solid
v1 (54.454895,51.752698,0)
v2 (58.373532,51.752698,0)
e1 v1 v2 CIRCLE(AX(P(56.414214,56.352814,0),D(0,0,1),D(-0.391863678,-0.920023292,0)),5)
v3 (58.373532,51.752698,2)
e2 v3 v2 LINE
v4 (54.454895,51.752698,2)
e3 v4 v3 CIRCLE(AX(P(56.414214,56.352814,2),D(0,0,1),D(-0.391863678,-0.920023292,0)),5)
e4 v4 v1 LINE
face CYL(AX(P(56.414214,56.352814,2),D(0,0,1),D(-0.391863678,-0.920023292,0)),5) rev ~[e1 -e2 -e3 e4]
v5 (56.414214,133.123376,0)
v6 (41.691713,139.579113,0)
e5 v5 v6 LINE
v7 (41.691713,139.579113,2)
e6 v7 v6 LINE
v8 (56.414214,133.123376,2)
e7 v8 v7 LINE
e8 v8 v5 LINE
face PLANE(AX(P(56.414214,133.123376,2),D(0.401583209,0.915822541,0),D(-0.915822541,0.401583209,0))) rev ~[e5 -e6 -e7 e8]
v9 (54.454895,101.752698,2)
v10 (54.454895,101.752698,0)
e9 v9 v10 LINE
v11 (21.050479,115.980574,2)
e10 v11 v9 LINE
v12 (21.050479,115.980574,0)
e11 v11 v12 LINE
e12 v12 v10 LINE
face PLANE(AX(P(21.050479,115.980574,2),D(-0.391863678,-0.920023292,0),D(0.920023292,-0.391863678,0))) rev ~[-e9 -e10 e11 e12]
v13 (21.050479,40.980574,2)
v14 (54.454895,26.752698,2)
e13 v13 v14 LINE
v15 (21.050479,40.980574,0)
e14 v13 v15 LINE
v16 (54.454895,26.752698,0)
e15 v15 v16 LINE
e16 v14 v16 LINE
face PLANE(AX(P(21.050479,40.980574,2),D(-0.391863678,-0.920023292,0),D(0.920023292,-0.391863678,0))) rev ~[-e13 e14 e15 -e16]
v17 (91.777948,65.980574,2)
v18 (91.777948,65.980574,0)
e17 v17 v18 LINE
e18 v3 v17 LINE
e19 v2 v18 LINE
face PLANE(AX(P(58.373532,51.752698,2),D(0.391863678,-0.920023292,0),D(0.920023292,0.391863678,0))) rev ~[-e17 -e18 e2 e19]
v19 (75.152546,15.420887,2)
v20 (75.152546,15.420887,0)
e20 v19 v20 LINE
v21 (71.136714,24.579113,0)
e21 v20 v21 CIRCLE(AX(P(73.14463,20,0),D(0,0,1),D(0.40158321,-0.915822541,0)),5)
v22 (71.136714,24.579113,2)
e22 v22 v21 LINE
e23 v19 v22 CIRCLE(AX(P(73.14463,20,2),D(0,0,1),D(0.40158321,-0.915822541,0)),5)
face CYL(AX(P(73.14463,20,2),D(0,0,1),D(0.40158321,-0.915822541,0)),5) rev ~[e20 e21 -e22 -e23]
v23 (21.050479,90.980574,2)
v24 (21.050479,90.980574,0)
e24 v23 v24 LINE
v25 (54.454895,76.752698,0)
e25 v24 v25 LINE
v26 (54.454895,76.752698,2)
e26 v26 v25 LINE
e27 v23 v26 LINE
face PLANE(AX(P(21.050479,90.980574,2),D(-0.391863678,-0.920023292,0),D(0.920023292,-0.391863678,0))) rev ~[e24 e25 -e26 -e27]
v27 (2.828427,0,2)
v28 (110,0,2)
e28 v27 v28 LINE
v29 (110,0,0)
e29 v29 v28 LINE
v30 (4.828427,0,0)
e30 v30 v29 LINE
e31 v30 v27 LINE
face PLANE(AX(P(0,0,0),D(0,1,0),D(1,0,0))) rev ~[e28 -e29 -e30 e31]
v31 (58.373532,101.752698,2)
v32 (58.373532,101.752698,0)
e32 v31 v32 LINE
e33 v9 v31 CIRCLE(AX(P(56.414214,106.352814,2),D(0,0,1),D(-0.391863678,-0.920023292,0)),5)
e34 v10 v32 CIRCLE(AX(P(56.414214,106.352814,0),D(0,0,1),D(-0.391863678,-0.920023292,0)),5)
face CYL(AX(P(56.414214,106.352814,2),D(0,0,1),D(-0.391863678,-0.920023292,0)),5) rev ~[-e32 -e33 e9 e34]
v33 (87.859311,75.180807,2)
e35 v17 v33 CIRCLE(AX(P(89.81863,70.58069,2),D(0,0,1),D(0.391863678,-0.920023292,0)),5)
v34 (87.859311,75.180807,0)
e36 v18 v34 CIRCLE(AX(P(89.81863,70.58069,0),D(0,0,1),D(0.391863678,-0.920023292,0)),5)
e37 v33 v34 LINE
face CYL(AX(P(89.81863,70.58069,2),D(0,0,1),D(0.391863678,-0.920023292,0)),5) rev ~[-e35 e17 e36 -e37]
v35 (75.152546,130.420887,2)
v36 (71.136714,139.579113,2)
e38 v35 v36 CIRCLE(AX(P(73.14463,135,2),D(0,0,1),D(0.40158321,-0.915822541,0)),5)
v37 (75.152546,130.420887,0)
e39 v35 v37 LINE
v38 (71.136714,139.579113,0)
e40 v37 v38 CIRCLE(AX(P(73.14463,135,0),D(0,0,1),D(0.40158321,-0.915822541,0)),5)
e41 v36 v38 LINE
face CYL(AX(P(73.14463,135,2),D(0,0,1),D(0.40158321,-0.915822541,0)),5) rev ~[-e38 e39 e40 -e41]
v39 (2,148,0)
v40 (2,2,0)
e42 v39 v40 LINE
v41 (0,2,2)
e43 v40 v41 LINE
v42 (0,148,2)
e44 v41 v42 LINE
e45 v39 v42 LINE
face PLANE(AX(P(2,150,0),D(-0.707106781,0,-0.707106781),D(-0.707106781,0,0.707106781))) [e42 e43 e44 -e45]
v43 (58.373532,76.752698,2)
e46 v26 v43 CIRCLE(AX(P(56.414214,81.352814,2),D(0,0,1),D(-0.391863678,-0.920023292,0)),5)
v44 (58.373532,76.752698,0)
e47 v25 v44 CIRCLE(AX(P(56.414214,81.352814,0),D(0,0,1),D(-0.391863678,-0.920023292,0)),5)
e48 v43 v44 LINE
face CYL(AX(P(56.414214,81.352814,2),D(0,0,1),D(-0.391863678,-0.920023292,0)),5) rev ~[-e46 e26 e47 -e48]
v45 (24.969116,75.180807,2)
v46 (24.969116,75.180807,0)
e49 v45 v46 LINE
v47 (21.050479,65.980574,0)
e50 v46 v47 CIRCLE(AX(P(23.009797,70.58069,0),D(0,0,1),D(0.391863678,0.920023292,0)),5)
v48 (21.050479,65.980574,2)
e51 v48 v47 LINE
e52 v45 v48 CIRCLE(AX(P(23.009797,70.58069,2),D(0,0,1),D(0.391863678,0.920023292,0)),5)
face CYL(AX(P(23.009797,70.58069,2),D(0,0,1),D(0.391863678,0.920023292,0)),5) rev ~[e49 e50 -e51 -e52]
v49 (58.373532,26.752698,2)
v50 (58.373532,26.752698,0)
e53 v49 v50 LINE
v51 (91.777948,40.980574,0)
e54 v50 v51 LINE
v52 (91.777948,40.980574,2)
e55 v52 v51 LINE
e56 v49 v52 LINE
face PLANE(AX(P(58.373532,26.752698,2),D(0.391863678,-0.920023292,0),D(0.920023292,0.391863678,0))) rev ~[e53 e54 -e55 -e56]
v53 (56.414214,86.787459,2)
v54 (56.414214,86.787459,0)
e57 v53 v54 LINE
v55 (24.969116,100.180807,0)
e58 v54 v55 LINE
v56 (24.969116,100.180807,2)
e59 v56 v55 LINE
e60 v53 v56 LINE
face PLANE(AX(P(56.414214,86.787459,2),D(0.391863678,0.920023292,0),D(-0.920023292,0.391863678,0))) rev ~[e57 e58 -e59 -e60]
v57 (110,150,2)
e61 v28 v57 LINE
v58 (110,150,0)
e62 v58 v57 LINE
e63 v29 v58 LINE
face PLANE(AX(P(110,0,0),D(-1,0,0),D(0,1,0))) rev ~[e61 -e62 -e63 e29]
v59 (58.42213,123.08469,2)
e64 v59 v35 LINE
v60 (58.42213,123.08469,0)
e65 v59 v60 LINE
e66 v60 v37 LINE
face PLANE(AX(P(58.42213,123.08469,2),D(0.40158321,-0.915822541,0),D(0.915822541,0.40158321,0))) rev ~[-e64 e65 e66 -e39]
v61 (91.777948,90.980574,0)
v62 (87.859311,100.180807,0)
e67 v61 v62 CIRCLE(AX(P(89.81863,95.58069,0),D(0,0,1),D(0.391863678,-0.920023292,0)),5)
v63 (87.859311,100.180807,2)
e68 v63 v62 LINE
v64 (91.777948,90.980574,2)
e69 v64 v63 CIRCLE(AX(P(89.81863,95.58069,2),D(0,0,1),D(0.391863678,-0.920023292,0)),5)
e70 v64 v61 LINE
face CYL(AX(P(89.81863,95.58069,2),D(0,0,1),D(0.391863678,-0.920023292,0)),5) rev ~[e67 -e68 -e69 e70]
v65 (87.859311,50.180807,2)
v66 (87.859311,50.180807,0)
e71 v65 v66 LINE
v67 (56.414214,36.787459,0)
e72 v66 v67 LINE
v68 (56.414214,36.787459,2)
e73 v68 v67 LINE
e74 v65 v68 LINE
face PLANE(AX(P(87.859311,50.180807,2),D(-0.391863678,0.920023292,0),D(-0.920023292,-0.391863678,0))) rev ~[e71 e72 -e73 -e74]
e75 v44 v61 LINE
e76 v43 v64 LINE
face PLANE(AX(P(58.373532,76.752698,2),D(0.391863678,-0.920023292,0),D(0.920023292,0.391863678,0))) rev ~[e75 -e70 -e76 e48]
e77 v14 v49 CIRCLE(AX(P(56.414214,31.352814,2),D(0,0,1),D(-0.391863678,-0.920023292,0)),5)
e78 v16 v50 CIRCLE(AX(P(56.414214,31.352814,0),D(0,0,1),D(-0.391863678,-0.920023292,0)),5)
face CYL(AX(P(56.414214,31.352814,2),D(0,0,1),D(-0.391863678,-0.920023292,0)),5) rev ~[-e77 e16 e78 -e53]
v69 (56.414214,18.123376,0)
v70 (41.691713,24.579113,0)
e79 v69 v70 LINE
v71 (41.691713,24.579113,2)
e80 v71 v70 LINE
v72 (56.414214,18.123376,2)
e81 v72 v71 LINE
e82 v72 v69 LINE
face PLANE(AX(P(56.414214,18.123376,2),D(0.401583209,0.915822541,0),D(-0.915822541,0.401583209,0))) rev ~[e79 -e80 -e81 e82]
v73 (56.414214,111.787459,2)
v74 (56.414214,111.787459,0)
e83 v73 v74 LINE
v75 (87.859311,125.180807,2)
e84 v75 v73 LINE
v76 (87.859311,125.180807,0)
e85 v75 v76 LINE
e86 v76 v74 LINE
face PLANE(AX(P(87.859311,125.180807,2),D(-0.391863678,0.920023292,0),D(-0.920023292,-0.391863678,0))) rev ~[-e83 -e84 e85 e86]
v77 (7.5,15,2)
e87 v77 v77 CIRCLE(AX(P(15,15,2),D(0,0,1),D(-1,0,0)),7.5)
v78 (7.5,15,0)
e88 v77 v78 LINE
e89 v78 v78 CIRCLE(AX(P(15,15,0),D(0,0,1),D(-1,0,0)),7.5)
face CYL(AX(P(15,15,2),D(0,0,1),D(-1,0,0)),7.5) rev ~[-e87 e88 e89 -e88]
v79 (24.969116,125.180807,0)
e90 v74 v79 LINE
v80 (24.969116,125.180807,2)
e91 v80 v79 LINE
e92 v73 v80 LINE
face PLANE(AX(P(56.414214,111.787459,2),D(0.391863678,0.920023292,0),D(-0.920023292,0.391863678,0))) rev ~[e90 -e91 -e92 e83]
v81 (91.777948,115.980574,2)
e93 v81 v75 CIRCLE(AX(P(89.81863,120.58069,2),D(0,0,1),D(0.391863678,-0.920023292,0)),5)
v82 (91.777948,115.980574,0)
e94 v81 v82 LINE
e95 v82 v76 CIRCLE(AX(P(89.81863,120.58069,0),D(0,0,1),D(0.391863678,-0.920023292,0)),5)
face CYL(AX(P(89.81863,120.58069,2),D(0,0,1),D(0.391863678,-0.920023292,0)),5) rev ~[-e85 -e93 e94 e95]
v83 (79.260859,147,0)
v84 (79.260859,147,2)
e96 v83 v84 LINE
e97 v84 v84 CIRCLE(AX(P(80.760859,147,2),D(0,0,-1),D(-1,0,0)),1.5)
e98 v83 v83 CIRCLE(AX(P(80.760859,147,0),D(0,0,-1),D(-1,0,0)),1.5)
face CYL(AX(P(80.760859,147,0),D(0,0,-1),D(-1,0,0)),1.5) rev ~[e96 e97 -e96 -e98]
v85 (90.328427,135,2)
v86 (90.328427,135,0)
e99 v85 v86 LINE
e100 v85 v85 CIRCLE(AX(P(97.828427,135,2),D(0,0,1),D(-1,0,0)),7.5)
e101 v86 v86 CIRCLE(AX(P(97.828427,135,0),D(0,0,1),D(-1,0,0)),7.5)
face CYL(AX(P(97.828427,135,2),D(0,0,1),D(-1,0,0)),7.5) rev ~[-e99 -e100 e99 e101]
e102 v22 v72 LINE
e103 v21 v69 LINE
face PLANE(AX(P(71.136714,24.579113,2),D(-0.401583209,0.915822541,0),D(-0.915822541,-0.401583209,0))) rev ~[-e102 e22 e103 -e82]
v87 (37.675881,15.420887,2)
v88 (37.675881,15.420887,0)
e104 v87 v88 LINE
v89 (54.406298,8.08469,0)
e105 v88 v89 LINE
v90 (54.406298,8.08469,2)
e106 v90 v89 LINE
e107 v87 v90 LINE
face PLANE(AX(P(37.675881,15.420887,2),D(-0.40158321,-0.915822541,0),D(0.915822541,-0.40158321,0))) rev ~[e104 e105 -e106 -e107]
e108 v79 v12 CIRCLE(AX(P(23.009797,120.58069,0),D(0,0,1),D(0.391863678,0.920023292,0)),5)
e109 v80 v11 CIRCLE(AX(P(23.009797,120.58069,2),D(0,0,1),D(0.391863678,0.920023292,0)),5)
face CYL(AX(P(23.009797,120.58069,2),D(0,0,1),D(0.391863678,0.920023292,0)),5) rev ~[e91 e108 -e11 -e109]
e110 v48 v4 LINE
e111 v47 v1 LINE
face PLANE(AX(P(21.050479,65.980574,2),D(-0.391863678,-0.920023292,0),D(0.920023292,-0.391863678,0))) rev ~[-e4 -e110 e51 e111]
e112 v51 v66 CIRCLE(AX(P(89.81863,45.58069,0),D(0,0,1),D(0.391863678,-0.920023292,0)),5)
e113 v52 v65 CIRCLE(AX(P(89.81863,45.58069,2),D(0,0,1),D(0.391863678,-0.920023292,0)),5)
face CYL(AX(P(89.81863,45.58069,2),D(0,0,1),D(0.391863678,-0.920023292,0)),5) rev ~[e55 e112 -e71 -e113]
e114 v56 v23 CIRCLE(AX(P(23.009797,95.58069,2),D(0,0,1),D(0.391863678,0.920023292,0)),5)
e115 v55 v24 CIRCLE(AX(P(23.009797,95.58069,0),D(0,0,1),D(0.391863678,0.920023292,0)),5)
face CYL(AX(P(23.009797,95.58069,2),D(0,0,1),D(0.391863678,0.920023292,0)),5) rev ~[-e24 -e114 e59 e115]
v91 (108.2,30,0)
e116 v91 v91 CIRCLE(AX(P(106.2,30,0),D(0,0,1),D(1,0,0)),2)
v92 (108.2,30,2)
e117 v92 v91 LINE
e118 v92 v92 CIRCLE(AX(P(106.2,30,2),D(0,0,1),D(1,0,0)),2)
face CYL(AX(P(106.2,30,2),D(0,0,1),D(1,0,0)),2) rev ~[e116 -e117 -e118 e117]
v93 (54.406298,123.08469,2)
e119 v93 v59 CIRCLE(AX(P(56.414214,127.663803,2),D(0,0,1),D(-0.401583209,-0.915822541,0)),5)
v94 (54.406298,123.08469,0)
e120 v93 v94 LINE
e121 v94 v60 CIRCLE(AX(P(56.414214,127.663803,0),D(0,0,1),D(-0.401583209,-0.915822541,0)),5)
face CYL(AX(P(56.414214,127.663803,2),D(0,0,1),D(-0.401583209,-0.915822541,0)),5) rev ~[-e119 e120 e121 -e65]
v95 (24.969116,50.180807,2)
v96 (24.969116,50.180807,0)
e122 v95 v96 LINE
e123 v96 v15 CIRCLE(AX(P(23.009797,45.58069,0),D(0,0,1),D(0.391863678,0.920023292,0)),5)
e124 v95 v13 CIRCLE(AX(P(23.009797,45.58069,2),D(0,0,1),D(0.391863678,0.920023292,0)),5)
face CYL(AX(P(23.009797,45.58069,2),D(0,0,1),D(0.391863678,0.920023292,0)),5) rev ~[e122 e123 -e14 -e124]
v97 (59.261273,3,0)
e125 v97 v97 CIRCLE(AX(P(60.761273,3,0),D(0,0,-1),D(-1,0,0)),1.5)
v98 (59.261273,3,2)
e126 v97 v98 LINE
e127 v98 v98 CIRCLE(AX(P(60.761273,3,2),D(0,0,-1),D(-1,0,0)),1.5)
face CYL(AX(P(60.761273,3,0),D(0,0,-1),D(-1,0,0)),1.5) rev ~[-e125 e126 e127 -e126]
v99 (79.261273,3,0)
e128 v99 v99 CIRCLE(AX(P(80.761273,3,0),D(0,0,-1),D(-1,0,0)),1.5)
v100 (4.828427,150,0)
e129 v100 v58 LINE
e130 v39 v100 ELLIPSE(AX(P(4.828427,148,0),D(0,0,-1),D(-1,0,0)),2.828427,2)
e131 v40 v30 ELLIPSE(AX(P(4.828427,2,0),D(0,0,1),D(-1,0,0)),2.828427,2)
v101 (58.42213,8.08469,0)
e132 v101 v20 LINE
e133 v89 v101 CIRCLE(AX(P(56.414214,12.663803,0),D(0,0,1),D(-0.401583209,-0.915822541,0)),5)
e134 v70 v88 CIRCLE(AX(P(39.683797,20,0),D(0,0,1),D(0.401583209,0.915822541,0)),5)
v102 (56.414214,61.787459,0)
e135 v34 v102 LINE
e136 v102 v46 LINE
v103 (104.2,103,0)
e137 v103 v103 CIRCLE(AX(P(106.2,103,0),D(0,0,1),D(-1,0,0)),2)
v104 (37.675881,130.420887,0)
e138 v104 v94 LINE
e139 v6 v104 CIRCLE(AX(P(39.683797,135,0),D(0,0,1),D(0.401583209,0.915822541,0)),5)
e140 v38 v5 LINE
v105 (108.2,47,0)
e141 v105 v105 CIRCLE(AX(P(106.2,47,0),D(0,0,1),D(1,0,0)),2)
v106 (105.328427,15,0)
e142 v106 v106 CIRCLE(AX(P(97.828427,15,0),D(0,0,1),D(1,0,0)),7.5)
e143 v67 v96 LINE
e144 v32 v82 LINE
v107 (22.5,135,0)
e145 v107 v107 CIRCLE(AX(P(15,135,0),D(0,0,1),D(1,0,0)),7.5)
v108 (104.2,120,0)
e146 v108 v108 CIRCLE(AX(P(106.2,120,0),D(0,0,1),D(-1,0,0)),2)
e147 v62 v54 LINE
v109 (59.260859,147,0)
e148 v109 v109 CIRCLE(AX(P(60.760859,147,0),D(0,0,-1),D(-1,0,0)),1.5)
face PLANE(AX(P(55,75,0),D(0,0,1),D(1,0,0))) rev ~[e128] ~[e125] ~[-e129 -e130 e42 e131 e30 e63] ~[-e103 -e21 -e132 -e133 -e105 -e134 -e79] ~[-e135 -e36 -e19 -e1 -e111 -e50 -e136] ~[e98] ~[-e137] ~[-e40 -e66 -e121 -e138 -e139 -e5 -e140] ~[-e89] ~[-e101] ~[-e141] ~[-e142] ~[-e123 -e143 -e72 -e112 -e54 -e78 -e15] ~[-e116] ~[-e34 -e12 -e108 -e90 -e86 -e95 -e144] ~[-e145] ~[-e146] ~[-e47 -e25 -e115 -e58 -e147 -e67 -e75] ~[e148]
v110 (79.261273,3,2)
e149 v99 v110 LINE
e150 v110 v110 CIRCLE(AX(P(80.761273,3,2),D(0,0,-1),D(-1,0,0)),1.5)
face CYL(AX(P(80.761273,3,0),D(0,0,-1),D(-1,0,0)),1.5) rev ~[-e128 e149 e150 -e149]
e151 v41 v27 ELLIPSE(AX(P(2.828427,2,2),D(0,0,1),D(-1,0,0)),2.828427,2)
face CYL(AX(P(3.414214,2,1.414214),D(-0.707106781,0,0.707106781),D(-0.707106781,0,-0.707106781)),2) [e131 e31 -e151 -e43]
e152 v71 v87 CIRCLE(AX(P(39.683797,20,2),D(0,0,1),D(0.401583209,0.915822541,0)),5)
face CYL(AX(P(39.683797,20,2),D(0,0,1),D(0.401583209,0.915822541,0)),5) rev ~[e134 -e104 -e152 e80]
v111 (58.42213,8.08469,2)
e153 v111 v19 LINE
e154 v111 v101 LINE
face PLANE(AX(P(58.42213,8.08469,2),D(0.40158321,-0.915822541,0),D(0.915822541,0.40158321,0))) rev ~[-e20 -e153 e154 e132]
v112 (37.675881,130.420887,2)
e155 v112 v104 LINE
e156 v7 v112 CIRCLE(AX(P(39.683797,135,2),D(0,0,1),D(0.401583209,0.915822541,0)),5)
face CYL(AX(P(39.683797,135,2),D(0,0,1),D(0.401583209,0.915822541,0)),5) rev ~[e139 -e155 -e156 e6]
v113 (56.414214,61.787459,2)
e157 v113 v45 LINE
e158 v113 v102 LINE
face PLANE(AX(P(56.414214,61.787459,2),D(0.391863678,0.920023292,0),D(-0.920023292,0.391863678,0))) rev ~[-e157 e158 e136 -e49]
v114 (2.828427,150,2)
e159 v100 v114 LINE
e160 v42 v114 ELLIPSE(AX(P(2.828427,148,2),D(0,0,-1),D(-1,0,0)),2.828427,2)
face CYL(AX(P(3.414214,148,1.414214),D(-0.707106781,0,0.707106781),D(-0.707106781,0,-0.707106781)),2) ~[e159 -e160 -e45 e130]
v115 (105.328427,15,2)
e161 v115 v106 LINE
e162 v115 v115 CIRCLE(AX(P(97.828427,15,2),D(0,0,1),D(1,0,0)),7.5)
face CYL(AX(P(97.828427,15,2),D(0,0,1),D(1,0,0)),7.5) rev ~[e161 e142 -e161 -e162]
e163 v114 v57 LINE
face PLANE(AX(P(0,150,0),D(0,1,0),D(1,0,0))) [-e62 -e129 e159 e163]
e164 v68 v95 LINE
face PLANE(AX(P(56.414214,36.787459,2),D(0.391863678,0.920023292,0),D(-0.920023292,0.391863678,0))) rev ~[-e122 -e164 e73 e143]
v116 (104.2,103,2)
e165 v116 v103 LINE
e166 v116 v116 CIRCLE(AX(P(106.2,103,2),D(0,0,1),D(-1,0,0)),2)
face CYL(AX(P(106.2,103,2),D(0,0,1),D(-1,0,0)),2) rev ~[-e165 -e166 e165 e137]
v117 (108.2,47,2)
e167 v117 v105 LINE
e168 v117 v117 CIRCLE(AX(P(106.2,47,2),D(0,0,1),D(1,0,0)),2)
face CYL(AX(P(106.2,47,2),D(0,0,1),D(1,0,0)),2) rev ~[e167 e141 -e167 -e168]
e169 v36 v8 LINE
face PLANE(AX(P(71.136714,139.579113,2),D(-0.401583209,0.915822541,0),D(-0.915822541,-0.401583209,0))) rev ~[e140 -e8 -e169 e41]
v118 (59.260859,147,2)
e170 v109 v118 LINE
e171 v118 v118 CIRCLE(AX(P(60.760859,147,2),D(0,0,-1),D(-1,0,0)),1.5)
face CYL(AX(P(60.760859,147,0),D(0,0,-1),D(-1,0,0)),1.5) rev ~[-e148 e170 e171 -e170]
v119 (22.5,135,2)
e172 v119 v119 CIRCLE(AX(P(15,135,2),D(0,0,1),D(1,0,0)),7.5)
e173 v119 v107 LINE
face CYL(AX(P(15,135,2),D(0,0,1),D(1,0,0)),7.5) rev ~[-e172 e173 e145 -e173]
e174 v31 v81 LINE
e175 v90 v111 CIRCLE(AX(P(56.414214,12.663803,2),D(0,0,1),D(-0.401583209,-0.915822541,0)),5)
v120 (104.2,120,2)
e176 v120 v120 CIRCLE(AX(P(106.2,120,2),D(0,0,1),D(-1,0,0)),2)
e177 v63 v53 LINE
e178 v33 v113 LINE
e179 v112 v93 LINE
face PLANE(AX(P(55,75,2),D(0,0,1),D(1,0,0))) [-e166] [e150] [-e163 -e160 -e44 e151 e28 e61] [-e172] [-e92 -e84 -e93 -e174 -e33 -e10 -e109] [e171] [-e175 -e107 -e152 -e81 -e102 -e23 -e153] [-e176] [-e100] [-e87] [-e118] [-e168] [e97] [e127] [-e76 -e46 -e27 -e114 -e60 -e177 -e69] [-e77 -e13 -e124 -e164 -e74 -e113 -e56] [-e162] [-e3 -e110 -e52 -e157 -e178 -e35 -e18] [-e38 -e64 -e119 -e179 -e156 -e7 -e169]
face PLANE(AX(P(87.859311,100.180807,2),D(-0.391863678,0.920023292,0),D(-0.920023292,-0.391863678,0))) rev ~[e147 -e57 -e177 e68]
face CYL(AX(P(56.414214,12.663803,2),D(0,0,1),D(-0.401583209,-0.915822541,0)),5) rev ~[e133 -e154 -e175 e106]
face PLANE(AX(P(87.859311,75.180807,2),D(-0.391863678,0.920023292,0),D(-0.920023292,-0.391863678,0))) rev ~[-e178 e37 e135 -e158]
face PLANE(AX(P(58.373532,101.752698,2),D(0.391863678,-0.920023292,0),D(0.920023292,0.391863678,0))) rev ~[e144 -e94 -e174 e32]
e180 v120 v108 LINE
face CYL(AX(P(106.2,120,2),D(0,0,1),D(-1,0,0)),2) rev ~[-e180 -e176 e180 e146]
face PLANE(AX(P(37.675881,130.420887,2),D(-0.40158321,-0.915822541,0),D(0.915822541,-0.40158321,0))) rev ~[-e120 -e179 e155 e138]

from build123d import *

# Parameters (mm, degrees)
SKETCH_1_W          = 110
SKETCH_1_H          = 150
EXTRUDE_1_DEPTH     = 2
CUT_EXTRUDE_1_DEPTH = 187.021504133
FILLET_1_R          = 2
FILLET_2_R          = 2
SKETCH_3_R          = 2
CUT_EXTRUDE_2_DEPTH = 187.021504133
SKETCH_4_R          = 1.5
CUT_EXTRUDE_3_DEPTH = 187.021504133
SKETCH_5_R          = 1.5
CUT_EXTRUDE_4_DEPTH = 187.021504133
SKETCH_6_R          = 7.5
CUT_EXTRUDE_6_DEPTH = 10
CUT_EXTRUDE_7_DEPTH = 10


with BuildPart() as part:
    # 草图1 → 凸台-拉伸1 (new body)
    with BuildSketch(Plane.XY):
        with Locations((55, 75)):
            Rectangle(SKETCH_1_W, SKETCH_1_H)
    extrude(amount=EXTRUDE_1_DEPTH)

    # 草图2 → 切除-拉伸1 (cut, through all)
    with BuildSketch(Plane(origin=(0, 150, 0), x_dir=(1, 0, 0), z_dir=(0, 1, 0))):
        Polygon((0, -2), (0, 0), (2, 0), align=None)
    extrude(amount=-CUT_EXTRUDE_1_DEPTH, mode=Mode.SUBTRACT)

    # 圆角1
    fillet_1_edges = [part.edges().sort_by_distance(p)[0] for p in [
        (1, 150, 1),
    ]]
    fillet(fillet_1_edges, radius=FILLET_1_R)

    # 圆角2
    fillet_2_edges = [part.edges().sort_by_distance(p)[0] for p in [
        (1, 0, 1),
    ]]
    fillet(fillet_2_edges, radius=FILLET_2_R)

    # 草图3 → 切除-拉伸2 (cut, through all)
    with BuildSketch(Plane.XY.offset(2)):
        with Locations((106.2, 47)):
            Circle(SKETCH_3_R)
        with Locations((106.2, 30)):
            Circle(SKETCH_3_R)
        with Locations(Location((106.2, 120, 0), (0, 0, 180))):
            Circle(SKETCH_3_R)
        with Locations(Location((106.2, 103, 0), (0, 0, 180))):
            Circle(SKETCH_3_R)
    extrude(amount=-CUT_EXTRUDE_2_DEPTH, mode=Mode.SUBTRACT)

    # 草图4 → 切除-拉伸3 (cut, through all)
    with BuildSketch(Plane(origin=(0, 0, 0), x_dir=(-1, 0, 0), z_dir=(0, 0, -1))):
        with Locations((-60.760859098, 147)):
            Circle(SKETCH_4_R)
        with Locations((-80.760859098, 147)):
            Circle(SKETCH_4_R)
    extrude(amount=-CUT_EXTRUDE_3_DEPTH, mode=Mode.SUBTRACT)

    # 草图5 → 切除-拉伸4 (cut, through all)
    with BuildSketch(Plane(origin=(0, 0, 0), x_dir=(-1, 0, 0), z_dir=(0, 0, -1))):
        with Locations((-80.76127274, 3)):
            Circle(SKETCH_5_R)
        with Locations((-60.76127274, 3)):
            Circle(SKETCH_5_R)
    extrude(amount=-CUT_EXTRUDE_4_DEPTH, mode=Mode.SUBTRACT)

    # 草图6 → 切除-拉伸6 (cut)
    with BuildSketch(Plane.XY.offset(2)):
        with Locations((15, 135)):
            Circle(SKETCH_6_R)
        with Locations(Location((15, 15, 0), (0, 0, 180))):
            Circle(SKETCH_6_R)
        with Locations((97.828427125, 15)):
            Circle(SKETCH_6_R)
        with Locations(Location((97.828427125, 135, 0), (0, 0, 180))):
            Circle(SKETCH_6_R)
    extrude(amount=-CUT_EXTRUDE_6_DEPTH, mode=Mode.SUBTRACT)

    # 草图7 → 切除-拉伸7 (cut)
    with BuildSketch(Plane.XY.offset(2)):
        with BuildLine():
            Line((56.414213562, 133.123376127), (41.691712888, 139.579112703))
            ThreePointArc((41.691712888, 139.579112703), (35.104684138, 137.007916048), (37.675880793, 130.420887297))
            Line((37.675880793, 130.420887297), (54.406297515, 123.08469044))
            ThreePointArc((54.406297515, 123.08469044), (51.414213562, 127.663803143), (54.406297515, 132.242915846))
            Line((54.406297515, 132.242915846), (56.414213562, 133.123376127))
        make_face()
        with BuildLine():
            Line((58.42212961, 132.242915846), (56.414213562, 133.123376127))
            Line((56.414213562, 133.123376127), (54.406297515, 132.242915846))
            ThreePointArc((54.406297515, 132.242915846), (51.414213562, 127.663803143), (54.406297515, 123.08469044))
            ThreePointArc((54.406297515, 123.08469044), (56.414213562, 122.663803143), (58.42212961, 123.08469044))
            ThreePointArc((58.42212961, 123.08469044), (61.414213562, 127.663803143), (58.42212961, 132.242915846))
        make_face()
        with BuildLine():
            Line((71.136714237, 139.579112703), (56.414213562, 133.123376127))
            Line((56.414213562, 133.123376127), (58.42212961, 132.242915846))
            ThreePointArc((58.42212961, 132.242915846), (61.414213562, 127.663803143), (58.42212961, 123.08469044))
            Line((58.42212961, 123.08469044), (75.152546332, 130.420887297))
            ThreePointArc((75.152546332, 130.420887297), (77.723742987, 137.007916048), (71.136714237, 139.579112703))
        make_face()
        with BuildLine():
            Line((87.859311366, 125.180806839), (56.414213562, 111.787459321))
            Line((56.414213562, 111.787459321), (58.373531952, 110.952930765))
            ThreePointArc((58.373531952, 110.952930765), (61.414213562, 106.352814304), (58.373531952, 101.752697844))
            Line((58.373531952, 101.752697844), (91.777948145, 115.980573918))
            ThreePointArc((91.777948145, 115.980573918), (94.418746216, 122.540008767), (87.859311366, 125.180806839))
        make_face()
        with BuildLine():
            Line((58.373531952, 110.952930765), (56.414213562, 111.787459321))
            Line((56.414213562, 111.787459321), (54.454895173, 110.952930765))
            ThreePointArc((54.454895173, 110.952930765), (51.414213562, 106.352814304), (54.454895173, 101.752697844))
            ThreePointArc((54.454895173, 101.752697844), (56.414213562, 101.352814304), (58.373531952, 101.752697844))
            ThreePointArc((58.373531952, 101.752697844), (61.414213562, 106.352814304), (58.373531952, 110.952930765))
        make_face()
        with BuildLine():
            Line((56.414213562, 111.787459321), (24.969115758, 125.180806839))
            ThreePointArc((24.969115758, 125.180806839), (18.409680909, 122.540008767), (21.05047898, 115.980573918))
            Line((21.05047898, 115.980573918), (54.454895173, 101.752697844))
            ThreePointArc((54.454895173, 101.752697844), (51.414213562, 106.352814304), (54.454895173, 110.952930765))
            Line((54.454895173, 110.952930765), (56.414213562, 111.787459321))
        make_face()
        with BuildLine():
            ThreePointArc((24.969115758, 100.180806839), (18.409680909, 97.540008767), (21.05047898, 90.980573918))
            Line((21.05047898, 90.980573918), (54.454895173, 76.752697844))
            ThreePointArc((54.454895173, 76.752697844), (51.414213562, 81.352814304), (54.454895173, 85.952930765))
            Line((54.454895173, 85.952930765), (56.414213562, 86.787459321))
            Line((56.414213562, 86.787459321), (24.969115758, 100.180806839))
        make_face()
        with BuildLine():
            ThreePointArc((54.454895173, 85.952930765), (51.414213562, 81.352814304), (54.454895173, 76.752697844))
            ThreePointArc((54.454895173, 76.752697844), (56.414213562, 76.352814304), (58.373531952, 76.752697844))
            ThreePointArc((58.373531952, 76.752697844), (61.414213562, 81.352814304), (58.373531952, 85.952930765))
            Line((58.373531952, 85.952930765), (56.414213562, 86.787459321))
            Line((56.414213562, 86.787459321), (54.454895173, 85.952930765))
        make_face()
        with BuildLine():
            ThreePointArc((58.373531952, 85.952930765), (61.414213562, 81.352814304), (58.373531952, 76.752697844))
            Line((58.373531952, 76.752697844), (91.777948145, 90.980573918))
            ThreePointArc((91.777948145, 90.980573918), (94.418746216, 97.540008767), (87.859311366, 100.180806839))
            Line((87.859311366, 100.180806839), (56.414213562, 86.787459321))
            Line((56.414213562, 86.787459321), (58.373531952, 85.952930765))
        make_face()
        with BuildLine():
            ThreePointArc((58.373531952, 60.952930765), (61.414213562, 56.352814304), (58.373531952, 51.752697844))
            Line((58.373531952, 51.752697844), (91.777948145, 65.980573918))
            ThreePointArc((91.777948145, 65.980573918), (94.418746216, 72.540008767), (87.859311366, 75.180806839))
            Line((87.859311366, 75.180806839), (56.414213562, 61.787459321))
            Line((56.414213562, 61.787459321), (58.373531952, 60.952930765))
        make_face()
        with BuildLine():
            ThreePointArc((54.454895173, 60.952930765), (51.414213562, 56.352814304), (54.454895173, 51.752697844))
            ThreePointArc((54.454895173, 51.752697844), (56.414213562, 51.352814304), (58.373531952, 51.752697844))
            ThreePointArc((58.373531952, 51.752697844), (61.414213562, 56.352814304), (58.373531952, 60.952930765))
            Line((58.373531952, 60.952930765), (56.414213562, 61.787459321))
            Line((56.414213562, 61.787459321), (54.454895173, 60.952930765))
        make_face()
        with BuildLine():
            ThreePointArc((24.969115758, 75.180806839), (18.409680909, 72.540008767), (21.05047898, 65.980573918))
            Line((21.05047898, 65.980573918), (54.454895173, 51.752697844))
            ThreePointArc((54.454895173, 51.752697844), (51.414213562, 56.352814304), (54.454895173, 60.952930765))
            Line((54.454895173, 60.952930765), (56.414213562, 61.787459321))
            Line((56.414213562, 61.787459321), (24.969115758, 75.180806839))
        make_face()
        with BuildLine():
            ThreePointArc((24.969115758, 50.180806839), (18.409680909, 47.540008767), (21.05047898, 40.980573918))
            Line((21.05047898, 40.980573918), (54.454895173, 26.752697844))
            ThreePointArc((54.454895173, 26.752697844), (51.414213562, 31.352814304), (54.454895173, 35.952930765))
            Line((54.454895173, 35.952930765), (56.414213562, 36.787459321))
            Line((56.414213562, 36.787459321), (24.969115758, 50.180806839))
        make_face()
        with BuildLine():
            ThreePointArc((54.454895173, 35.952930765), (51.414213562, 31.352814304), (54.454895173, 26.752697844))
            ThreePointArc((54.454895173, 26.752697844), (56.414213562, 26.352814304), (58.373531952, 26.752697844))
            ThreePointArc((58.373531952, 26.752697844), (61.414213562, 31.352814304), (58.373531952, 35.952930765))
            Line((58.373531952, 35.952930765), (56.414213562, 36.787459321))
            Line((56.414213562, 36.787459321), (54.454895173, 35.952930765))
        make_face()
        with BuildLine():
            ThreePointArc((58.373531952, 35.952930765), (61.414213562, 31.352814304), (58.373531952, 26.752697844))
            Line((58.373531952, 26.752697844), (91.777948145, 40.980573918))
            ThreePointArc((91.777948145, 40.980573918), (94.418746216, 47.540008767), (87.859311366, 50.180806839))
            Line((87.859311366, 50.180806839), (56.414213562, 36.787459321))
            Line((56.414213562, 36.787459321), (58.373531952, 35.952930765))
        make_face()
        with BuildLine():
            ThreePointArc((58.42212961, 17.242915846), (61.414213562, 12.663803143), (58.42212961, 8.08469044))
            Line((58.42212961, 8.08469044), (75.152546332, 15.420887297))
            ThreePointArc((75.152546332, 15.420887297), (77.723742987, 22.007916048), (71.136714237, 24.579112703))
            Line((71.136714237, 24.579112703), (56.414213562, 18.123376127))
            Line((56.414213562, 18.123376127), (58.42212961, 17.242915846))
        make_face()
        with BuildLine():
            ThreePointArc((54.406297515, 17.242915846), (51.414213562, 12.663803143), (54.406297515, 8.08469044))
            ThreePointArc((54.406297515, 8.08469044), (56.414213562, 7.663803143), (58.42212961, 8.08469044))
            ThreePointArc((58.42212961, 8.08469044), (61.414213562, 12.663803143), (58.42212961, 17.242915846))
            Line((58.42212961, 17.242915846), (56.414213562, 18.123376127))
            Line((56.414213562, 18.123376127), (54.406297515, 17.242915846))
        make_face()
        with BuildLine():
            ThreePointArc((41.691712888, 24.579112703), (35.104684138, 22.007916048), (37.675880793, 15.420887297))
            Line((37.675880793, 15.420887297), (54.406297515, 8.08469044))
            ThreePointArc((54.406297515, 8.08469044), (51.414213562, 12.663803143), (54.406297515, 17.242915846))
            Line((54.406297515, 17.242915846), (56.414213562, 18.123376127))
            Line((56.414213562, 18.123376127), (41.691712888, 24.579112703))
        make_face()
    extrude(amount=-CUT_EXTRUDE_7_DEPTH, mode=Mode.SUBTRACT)


solid = part.part
